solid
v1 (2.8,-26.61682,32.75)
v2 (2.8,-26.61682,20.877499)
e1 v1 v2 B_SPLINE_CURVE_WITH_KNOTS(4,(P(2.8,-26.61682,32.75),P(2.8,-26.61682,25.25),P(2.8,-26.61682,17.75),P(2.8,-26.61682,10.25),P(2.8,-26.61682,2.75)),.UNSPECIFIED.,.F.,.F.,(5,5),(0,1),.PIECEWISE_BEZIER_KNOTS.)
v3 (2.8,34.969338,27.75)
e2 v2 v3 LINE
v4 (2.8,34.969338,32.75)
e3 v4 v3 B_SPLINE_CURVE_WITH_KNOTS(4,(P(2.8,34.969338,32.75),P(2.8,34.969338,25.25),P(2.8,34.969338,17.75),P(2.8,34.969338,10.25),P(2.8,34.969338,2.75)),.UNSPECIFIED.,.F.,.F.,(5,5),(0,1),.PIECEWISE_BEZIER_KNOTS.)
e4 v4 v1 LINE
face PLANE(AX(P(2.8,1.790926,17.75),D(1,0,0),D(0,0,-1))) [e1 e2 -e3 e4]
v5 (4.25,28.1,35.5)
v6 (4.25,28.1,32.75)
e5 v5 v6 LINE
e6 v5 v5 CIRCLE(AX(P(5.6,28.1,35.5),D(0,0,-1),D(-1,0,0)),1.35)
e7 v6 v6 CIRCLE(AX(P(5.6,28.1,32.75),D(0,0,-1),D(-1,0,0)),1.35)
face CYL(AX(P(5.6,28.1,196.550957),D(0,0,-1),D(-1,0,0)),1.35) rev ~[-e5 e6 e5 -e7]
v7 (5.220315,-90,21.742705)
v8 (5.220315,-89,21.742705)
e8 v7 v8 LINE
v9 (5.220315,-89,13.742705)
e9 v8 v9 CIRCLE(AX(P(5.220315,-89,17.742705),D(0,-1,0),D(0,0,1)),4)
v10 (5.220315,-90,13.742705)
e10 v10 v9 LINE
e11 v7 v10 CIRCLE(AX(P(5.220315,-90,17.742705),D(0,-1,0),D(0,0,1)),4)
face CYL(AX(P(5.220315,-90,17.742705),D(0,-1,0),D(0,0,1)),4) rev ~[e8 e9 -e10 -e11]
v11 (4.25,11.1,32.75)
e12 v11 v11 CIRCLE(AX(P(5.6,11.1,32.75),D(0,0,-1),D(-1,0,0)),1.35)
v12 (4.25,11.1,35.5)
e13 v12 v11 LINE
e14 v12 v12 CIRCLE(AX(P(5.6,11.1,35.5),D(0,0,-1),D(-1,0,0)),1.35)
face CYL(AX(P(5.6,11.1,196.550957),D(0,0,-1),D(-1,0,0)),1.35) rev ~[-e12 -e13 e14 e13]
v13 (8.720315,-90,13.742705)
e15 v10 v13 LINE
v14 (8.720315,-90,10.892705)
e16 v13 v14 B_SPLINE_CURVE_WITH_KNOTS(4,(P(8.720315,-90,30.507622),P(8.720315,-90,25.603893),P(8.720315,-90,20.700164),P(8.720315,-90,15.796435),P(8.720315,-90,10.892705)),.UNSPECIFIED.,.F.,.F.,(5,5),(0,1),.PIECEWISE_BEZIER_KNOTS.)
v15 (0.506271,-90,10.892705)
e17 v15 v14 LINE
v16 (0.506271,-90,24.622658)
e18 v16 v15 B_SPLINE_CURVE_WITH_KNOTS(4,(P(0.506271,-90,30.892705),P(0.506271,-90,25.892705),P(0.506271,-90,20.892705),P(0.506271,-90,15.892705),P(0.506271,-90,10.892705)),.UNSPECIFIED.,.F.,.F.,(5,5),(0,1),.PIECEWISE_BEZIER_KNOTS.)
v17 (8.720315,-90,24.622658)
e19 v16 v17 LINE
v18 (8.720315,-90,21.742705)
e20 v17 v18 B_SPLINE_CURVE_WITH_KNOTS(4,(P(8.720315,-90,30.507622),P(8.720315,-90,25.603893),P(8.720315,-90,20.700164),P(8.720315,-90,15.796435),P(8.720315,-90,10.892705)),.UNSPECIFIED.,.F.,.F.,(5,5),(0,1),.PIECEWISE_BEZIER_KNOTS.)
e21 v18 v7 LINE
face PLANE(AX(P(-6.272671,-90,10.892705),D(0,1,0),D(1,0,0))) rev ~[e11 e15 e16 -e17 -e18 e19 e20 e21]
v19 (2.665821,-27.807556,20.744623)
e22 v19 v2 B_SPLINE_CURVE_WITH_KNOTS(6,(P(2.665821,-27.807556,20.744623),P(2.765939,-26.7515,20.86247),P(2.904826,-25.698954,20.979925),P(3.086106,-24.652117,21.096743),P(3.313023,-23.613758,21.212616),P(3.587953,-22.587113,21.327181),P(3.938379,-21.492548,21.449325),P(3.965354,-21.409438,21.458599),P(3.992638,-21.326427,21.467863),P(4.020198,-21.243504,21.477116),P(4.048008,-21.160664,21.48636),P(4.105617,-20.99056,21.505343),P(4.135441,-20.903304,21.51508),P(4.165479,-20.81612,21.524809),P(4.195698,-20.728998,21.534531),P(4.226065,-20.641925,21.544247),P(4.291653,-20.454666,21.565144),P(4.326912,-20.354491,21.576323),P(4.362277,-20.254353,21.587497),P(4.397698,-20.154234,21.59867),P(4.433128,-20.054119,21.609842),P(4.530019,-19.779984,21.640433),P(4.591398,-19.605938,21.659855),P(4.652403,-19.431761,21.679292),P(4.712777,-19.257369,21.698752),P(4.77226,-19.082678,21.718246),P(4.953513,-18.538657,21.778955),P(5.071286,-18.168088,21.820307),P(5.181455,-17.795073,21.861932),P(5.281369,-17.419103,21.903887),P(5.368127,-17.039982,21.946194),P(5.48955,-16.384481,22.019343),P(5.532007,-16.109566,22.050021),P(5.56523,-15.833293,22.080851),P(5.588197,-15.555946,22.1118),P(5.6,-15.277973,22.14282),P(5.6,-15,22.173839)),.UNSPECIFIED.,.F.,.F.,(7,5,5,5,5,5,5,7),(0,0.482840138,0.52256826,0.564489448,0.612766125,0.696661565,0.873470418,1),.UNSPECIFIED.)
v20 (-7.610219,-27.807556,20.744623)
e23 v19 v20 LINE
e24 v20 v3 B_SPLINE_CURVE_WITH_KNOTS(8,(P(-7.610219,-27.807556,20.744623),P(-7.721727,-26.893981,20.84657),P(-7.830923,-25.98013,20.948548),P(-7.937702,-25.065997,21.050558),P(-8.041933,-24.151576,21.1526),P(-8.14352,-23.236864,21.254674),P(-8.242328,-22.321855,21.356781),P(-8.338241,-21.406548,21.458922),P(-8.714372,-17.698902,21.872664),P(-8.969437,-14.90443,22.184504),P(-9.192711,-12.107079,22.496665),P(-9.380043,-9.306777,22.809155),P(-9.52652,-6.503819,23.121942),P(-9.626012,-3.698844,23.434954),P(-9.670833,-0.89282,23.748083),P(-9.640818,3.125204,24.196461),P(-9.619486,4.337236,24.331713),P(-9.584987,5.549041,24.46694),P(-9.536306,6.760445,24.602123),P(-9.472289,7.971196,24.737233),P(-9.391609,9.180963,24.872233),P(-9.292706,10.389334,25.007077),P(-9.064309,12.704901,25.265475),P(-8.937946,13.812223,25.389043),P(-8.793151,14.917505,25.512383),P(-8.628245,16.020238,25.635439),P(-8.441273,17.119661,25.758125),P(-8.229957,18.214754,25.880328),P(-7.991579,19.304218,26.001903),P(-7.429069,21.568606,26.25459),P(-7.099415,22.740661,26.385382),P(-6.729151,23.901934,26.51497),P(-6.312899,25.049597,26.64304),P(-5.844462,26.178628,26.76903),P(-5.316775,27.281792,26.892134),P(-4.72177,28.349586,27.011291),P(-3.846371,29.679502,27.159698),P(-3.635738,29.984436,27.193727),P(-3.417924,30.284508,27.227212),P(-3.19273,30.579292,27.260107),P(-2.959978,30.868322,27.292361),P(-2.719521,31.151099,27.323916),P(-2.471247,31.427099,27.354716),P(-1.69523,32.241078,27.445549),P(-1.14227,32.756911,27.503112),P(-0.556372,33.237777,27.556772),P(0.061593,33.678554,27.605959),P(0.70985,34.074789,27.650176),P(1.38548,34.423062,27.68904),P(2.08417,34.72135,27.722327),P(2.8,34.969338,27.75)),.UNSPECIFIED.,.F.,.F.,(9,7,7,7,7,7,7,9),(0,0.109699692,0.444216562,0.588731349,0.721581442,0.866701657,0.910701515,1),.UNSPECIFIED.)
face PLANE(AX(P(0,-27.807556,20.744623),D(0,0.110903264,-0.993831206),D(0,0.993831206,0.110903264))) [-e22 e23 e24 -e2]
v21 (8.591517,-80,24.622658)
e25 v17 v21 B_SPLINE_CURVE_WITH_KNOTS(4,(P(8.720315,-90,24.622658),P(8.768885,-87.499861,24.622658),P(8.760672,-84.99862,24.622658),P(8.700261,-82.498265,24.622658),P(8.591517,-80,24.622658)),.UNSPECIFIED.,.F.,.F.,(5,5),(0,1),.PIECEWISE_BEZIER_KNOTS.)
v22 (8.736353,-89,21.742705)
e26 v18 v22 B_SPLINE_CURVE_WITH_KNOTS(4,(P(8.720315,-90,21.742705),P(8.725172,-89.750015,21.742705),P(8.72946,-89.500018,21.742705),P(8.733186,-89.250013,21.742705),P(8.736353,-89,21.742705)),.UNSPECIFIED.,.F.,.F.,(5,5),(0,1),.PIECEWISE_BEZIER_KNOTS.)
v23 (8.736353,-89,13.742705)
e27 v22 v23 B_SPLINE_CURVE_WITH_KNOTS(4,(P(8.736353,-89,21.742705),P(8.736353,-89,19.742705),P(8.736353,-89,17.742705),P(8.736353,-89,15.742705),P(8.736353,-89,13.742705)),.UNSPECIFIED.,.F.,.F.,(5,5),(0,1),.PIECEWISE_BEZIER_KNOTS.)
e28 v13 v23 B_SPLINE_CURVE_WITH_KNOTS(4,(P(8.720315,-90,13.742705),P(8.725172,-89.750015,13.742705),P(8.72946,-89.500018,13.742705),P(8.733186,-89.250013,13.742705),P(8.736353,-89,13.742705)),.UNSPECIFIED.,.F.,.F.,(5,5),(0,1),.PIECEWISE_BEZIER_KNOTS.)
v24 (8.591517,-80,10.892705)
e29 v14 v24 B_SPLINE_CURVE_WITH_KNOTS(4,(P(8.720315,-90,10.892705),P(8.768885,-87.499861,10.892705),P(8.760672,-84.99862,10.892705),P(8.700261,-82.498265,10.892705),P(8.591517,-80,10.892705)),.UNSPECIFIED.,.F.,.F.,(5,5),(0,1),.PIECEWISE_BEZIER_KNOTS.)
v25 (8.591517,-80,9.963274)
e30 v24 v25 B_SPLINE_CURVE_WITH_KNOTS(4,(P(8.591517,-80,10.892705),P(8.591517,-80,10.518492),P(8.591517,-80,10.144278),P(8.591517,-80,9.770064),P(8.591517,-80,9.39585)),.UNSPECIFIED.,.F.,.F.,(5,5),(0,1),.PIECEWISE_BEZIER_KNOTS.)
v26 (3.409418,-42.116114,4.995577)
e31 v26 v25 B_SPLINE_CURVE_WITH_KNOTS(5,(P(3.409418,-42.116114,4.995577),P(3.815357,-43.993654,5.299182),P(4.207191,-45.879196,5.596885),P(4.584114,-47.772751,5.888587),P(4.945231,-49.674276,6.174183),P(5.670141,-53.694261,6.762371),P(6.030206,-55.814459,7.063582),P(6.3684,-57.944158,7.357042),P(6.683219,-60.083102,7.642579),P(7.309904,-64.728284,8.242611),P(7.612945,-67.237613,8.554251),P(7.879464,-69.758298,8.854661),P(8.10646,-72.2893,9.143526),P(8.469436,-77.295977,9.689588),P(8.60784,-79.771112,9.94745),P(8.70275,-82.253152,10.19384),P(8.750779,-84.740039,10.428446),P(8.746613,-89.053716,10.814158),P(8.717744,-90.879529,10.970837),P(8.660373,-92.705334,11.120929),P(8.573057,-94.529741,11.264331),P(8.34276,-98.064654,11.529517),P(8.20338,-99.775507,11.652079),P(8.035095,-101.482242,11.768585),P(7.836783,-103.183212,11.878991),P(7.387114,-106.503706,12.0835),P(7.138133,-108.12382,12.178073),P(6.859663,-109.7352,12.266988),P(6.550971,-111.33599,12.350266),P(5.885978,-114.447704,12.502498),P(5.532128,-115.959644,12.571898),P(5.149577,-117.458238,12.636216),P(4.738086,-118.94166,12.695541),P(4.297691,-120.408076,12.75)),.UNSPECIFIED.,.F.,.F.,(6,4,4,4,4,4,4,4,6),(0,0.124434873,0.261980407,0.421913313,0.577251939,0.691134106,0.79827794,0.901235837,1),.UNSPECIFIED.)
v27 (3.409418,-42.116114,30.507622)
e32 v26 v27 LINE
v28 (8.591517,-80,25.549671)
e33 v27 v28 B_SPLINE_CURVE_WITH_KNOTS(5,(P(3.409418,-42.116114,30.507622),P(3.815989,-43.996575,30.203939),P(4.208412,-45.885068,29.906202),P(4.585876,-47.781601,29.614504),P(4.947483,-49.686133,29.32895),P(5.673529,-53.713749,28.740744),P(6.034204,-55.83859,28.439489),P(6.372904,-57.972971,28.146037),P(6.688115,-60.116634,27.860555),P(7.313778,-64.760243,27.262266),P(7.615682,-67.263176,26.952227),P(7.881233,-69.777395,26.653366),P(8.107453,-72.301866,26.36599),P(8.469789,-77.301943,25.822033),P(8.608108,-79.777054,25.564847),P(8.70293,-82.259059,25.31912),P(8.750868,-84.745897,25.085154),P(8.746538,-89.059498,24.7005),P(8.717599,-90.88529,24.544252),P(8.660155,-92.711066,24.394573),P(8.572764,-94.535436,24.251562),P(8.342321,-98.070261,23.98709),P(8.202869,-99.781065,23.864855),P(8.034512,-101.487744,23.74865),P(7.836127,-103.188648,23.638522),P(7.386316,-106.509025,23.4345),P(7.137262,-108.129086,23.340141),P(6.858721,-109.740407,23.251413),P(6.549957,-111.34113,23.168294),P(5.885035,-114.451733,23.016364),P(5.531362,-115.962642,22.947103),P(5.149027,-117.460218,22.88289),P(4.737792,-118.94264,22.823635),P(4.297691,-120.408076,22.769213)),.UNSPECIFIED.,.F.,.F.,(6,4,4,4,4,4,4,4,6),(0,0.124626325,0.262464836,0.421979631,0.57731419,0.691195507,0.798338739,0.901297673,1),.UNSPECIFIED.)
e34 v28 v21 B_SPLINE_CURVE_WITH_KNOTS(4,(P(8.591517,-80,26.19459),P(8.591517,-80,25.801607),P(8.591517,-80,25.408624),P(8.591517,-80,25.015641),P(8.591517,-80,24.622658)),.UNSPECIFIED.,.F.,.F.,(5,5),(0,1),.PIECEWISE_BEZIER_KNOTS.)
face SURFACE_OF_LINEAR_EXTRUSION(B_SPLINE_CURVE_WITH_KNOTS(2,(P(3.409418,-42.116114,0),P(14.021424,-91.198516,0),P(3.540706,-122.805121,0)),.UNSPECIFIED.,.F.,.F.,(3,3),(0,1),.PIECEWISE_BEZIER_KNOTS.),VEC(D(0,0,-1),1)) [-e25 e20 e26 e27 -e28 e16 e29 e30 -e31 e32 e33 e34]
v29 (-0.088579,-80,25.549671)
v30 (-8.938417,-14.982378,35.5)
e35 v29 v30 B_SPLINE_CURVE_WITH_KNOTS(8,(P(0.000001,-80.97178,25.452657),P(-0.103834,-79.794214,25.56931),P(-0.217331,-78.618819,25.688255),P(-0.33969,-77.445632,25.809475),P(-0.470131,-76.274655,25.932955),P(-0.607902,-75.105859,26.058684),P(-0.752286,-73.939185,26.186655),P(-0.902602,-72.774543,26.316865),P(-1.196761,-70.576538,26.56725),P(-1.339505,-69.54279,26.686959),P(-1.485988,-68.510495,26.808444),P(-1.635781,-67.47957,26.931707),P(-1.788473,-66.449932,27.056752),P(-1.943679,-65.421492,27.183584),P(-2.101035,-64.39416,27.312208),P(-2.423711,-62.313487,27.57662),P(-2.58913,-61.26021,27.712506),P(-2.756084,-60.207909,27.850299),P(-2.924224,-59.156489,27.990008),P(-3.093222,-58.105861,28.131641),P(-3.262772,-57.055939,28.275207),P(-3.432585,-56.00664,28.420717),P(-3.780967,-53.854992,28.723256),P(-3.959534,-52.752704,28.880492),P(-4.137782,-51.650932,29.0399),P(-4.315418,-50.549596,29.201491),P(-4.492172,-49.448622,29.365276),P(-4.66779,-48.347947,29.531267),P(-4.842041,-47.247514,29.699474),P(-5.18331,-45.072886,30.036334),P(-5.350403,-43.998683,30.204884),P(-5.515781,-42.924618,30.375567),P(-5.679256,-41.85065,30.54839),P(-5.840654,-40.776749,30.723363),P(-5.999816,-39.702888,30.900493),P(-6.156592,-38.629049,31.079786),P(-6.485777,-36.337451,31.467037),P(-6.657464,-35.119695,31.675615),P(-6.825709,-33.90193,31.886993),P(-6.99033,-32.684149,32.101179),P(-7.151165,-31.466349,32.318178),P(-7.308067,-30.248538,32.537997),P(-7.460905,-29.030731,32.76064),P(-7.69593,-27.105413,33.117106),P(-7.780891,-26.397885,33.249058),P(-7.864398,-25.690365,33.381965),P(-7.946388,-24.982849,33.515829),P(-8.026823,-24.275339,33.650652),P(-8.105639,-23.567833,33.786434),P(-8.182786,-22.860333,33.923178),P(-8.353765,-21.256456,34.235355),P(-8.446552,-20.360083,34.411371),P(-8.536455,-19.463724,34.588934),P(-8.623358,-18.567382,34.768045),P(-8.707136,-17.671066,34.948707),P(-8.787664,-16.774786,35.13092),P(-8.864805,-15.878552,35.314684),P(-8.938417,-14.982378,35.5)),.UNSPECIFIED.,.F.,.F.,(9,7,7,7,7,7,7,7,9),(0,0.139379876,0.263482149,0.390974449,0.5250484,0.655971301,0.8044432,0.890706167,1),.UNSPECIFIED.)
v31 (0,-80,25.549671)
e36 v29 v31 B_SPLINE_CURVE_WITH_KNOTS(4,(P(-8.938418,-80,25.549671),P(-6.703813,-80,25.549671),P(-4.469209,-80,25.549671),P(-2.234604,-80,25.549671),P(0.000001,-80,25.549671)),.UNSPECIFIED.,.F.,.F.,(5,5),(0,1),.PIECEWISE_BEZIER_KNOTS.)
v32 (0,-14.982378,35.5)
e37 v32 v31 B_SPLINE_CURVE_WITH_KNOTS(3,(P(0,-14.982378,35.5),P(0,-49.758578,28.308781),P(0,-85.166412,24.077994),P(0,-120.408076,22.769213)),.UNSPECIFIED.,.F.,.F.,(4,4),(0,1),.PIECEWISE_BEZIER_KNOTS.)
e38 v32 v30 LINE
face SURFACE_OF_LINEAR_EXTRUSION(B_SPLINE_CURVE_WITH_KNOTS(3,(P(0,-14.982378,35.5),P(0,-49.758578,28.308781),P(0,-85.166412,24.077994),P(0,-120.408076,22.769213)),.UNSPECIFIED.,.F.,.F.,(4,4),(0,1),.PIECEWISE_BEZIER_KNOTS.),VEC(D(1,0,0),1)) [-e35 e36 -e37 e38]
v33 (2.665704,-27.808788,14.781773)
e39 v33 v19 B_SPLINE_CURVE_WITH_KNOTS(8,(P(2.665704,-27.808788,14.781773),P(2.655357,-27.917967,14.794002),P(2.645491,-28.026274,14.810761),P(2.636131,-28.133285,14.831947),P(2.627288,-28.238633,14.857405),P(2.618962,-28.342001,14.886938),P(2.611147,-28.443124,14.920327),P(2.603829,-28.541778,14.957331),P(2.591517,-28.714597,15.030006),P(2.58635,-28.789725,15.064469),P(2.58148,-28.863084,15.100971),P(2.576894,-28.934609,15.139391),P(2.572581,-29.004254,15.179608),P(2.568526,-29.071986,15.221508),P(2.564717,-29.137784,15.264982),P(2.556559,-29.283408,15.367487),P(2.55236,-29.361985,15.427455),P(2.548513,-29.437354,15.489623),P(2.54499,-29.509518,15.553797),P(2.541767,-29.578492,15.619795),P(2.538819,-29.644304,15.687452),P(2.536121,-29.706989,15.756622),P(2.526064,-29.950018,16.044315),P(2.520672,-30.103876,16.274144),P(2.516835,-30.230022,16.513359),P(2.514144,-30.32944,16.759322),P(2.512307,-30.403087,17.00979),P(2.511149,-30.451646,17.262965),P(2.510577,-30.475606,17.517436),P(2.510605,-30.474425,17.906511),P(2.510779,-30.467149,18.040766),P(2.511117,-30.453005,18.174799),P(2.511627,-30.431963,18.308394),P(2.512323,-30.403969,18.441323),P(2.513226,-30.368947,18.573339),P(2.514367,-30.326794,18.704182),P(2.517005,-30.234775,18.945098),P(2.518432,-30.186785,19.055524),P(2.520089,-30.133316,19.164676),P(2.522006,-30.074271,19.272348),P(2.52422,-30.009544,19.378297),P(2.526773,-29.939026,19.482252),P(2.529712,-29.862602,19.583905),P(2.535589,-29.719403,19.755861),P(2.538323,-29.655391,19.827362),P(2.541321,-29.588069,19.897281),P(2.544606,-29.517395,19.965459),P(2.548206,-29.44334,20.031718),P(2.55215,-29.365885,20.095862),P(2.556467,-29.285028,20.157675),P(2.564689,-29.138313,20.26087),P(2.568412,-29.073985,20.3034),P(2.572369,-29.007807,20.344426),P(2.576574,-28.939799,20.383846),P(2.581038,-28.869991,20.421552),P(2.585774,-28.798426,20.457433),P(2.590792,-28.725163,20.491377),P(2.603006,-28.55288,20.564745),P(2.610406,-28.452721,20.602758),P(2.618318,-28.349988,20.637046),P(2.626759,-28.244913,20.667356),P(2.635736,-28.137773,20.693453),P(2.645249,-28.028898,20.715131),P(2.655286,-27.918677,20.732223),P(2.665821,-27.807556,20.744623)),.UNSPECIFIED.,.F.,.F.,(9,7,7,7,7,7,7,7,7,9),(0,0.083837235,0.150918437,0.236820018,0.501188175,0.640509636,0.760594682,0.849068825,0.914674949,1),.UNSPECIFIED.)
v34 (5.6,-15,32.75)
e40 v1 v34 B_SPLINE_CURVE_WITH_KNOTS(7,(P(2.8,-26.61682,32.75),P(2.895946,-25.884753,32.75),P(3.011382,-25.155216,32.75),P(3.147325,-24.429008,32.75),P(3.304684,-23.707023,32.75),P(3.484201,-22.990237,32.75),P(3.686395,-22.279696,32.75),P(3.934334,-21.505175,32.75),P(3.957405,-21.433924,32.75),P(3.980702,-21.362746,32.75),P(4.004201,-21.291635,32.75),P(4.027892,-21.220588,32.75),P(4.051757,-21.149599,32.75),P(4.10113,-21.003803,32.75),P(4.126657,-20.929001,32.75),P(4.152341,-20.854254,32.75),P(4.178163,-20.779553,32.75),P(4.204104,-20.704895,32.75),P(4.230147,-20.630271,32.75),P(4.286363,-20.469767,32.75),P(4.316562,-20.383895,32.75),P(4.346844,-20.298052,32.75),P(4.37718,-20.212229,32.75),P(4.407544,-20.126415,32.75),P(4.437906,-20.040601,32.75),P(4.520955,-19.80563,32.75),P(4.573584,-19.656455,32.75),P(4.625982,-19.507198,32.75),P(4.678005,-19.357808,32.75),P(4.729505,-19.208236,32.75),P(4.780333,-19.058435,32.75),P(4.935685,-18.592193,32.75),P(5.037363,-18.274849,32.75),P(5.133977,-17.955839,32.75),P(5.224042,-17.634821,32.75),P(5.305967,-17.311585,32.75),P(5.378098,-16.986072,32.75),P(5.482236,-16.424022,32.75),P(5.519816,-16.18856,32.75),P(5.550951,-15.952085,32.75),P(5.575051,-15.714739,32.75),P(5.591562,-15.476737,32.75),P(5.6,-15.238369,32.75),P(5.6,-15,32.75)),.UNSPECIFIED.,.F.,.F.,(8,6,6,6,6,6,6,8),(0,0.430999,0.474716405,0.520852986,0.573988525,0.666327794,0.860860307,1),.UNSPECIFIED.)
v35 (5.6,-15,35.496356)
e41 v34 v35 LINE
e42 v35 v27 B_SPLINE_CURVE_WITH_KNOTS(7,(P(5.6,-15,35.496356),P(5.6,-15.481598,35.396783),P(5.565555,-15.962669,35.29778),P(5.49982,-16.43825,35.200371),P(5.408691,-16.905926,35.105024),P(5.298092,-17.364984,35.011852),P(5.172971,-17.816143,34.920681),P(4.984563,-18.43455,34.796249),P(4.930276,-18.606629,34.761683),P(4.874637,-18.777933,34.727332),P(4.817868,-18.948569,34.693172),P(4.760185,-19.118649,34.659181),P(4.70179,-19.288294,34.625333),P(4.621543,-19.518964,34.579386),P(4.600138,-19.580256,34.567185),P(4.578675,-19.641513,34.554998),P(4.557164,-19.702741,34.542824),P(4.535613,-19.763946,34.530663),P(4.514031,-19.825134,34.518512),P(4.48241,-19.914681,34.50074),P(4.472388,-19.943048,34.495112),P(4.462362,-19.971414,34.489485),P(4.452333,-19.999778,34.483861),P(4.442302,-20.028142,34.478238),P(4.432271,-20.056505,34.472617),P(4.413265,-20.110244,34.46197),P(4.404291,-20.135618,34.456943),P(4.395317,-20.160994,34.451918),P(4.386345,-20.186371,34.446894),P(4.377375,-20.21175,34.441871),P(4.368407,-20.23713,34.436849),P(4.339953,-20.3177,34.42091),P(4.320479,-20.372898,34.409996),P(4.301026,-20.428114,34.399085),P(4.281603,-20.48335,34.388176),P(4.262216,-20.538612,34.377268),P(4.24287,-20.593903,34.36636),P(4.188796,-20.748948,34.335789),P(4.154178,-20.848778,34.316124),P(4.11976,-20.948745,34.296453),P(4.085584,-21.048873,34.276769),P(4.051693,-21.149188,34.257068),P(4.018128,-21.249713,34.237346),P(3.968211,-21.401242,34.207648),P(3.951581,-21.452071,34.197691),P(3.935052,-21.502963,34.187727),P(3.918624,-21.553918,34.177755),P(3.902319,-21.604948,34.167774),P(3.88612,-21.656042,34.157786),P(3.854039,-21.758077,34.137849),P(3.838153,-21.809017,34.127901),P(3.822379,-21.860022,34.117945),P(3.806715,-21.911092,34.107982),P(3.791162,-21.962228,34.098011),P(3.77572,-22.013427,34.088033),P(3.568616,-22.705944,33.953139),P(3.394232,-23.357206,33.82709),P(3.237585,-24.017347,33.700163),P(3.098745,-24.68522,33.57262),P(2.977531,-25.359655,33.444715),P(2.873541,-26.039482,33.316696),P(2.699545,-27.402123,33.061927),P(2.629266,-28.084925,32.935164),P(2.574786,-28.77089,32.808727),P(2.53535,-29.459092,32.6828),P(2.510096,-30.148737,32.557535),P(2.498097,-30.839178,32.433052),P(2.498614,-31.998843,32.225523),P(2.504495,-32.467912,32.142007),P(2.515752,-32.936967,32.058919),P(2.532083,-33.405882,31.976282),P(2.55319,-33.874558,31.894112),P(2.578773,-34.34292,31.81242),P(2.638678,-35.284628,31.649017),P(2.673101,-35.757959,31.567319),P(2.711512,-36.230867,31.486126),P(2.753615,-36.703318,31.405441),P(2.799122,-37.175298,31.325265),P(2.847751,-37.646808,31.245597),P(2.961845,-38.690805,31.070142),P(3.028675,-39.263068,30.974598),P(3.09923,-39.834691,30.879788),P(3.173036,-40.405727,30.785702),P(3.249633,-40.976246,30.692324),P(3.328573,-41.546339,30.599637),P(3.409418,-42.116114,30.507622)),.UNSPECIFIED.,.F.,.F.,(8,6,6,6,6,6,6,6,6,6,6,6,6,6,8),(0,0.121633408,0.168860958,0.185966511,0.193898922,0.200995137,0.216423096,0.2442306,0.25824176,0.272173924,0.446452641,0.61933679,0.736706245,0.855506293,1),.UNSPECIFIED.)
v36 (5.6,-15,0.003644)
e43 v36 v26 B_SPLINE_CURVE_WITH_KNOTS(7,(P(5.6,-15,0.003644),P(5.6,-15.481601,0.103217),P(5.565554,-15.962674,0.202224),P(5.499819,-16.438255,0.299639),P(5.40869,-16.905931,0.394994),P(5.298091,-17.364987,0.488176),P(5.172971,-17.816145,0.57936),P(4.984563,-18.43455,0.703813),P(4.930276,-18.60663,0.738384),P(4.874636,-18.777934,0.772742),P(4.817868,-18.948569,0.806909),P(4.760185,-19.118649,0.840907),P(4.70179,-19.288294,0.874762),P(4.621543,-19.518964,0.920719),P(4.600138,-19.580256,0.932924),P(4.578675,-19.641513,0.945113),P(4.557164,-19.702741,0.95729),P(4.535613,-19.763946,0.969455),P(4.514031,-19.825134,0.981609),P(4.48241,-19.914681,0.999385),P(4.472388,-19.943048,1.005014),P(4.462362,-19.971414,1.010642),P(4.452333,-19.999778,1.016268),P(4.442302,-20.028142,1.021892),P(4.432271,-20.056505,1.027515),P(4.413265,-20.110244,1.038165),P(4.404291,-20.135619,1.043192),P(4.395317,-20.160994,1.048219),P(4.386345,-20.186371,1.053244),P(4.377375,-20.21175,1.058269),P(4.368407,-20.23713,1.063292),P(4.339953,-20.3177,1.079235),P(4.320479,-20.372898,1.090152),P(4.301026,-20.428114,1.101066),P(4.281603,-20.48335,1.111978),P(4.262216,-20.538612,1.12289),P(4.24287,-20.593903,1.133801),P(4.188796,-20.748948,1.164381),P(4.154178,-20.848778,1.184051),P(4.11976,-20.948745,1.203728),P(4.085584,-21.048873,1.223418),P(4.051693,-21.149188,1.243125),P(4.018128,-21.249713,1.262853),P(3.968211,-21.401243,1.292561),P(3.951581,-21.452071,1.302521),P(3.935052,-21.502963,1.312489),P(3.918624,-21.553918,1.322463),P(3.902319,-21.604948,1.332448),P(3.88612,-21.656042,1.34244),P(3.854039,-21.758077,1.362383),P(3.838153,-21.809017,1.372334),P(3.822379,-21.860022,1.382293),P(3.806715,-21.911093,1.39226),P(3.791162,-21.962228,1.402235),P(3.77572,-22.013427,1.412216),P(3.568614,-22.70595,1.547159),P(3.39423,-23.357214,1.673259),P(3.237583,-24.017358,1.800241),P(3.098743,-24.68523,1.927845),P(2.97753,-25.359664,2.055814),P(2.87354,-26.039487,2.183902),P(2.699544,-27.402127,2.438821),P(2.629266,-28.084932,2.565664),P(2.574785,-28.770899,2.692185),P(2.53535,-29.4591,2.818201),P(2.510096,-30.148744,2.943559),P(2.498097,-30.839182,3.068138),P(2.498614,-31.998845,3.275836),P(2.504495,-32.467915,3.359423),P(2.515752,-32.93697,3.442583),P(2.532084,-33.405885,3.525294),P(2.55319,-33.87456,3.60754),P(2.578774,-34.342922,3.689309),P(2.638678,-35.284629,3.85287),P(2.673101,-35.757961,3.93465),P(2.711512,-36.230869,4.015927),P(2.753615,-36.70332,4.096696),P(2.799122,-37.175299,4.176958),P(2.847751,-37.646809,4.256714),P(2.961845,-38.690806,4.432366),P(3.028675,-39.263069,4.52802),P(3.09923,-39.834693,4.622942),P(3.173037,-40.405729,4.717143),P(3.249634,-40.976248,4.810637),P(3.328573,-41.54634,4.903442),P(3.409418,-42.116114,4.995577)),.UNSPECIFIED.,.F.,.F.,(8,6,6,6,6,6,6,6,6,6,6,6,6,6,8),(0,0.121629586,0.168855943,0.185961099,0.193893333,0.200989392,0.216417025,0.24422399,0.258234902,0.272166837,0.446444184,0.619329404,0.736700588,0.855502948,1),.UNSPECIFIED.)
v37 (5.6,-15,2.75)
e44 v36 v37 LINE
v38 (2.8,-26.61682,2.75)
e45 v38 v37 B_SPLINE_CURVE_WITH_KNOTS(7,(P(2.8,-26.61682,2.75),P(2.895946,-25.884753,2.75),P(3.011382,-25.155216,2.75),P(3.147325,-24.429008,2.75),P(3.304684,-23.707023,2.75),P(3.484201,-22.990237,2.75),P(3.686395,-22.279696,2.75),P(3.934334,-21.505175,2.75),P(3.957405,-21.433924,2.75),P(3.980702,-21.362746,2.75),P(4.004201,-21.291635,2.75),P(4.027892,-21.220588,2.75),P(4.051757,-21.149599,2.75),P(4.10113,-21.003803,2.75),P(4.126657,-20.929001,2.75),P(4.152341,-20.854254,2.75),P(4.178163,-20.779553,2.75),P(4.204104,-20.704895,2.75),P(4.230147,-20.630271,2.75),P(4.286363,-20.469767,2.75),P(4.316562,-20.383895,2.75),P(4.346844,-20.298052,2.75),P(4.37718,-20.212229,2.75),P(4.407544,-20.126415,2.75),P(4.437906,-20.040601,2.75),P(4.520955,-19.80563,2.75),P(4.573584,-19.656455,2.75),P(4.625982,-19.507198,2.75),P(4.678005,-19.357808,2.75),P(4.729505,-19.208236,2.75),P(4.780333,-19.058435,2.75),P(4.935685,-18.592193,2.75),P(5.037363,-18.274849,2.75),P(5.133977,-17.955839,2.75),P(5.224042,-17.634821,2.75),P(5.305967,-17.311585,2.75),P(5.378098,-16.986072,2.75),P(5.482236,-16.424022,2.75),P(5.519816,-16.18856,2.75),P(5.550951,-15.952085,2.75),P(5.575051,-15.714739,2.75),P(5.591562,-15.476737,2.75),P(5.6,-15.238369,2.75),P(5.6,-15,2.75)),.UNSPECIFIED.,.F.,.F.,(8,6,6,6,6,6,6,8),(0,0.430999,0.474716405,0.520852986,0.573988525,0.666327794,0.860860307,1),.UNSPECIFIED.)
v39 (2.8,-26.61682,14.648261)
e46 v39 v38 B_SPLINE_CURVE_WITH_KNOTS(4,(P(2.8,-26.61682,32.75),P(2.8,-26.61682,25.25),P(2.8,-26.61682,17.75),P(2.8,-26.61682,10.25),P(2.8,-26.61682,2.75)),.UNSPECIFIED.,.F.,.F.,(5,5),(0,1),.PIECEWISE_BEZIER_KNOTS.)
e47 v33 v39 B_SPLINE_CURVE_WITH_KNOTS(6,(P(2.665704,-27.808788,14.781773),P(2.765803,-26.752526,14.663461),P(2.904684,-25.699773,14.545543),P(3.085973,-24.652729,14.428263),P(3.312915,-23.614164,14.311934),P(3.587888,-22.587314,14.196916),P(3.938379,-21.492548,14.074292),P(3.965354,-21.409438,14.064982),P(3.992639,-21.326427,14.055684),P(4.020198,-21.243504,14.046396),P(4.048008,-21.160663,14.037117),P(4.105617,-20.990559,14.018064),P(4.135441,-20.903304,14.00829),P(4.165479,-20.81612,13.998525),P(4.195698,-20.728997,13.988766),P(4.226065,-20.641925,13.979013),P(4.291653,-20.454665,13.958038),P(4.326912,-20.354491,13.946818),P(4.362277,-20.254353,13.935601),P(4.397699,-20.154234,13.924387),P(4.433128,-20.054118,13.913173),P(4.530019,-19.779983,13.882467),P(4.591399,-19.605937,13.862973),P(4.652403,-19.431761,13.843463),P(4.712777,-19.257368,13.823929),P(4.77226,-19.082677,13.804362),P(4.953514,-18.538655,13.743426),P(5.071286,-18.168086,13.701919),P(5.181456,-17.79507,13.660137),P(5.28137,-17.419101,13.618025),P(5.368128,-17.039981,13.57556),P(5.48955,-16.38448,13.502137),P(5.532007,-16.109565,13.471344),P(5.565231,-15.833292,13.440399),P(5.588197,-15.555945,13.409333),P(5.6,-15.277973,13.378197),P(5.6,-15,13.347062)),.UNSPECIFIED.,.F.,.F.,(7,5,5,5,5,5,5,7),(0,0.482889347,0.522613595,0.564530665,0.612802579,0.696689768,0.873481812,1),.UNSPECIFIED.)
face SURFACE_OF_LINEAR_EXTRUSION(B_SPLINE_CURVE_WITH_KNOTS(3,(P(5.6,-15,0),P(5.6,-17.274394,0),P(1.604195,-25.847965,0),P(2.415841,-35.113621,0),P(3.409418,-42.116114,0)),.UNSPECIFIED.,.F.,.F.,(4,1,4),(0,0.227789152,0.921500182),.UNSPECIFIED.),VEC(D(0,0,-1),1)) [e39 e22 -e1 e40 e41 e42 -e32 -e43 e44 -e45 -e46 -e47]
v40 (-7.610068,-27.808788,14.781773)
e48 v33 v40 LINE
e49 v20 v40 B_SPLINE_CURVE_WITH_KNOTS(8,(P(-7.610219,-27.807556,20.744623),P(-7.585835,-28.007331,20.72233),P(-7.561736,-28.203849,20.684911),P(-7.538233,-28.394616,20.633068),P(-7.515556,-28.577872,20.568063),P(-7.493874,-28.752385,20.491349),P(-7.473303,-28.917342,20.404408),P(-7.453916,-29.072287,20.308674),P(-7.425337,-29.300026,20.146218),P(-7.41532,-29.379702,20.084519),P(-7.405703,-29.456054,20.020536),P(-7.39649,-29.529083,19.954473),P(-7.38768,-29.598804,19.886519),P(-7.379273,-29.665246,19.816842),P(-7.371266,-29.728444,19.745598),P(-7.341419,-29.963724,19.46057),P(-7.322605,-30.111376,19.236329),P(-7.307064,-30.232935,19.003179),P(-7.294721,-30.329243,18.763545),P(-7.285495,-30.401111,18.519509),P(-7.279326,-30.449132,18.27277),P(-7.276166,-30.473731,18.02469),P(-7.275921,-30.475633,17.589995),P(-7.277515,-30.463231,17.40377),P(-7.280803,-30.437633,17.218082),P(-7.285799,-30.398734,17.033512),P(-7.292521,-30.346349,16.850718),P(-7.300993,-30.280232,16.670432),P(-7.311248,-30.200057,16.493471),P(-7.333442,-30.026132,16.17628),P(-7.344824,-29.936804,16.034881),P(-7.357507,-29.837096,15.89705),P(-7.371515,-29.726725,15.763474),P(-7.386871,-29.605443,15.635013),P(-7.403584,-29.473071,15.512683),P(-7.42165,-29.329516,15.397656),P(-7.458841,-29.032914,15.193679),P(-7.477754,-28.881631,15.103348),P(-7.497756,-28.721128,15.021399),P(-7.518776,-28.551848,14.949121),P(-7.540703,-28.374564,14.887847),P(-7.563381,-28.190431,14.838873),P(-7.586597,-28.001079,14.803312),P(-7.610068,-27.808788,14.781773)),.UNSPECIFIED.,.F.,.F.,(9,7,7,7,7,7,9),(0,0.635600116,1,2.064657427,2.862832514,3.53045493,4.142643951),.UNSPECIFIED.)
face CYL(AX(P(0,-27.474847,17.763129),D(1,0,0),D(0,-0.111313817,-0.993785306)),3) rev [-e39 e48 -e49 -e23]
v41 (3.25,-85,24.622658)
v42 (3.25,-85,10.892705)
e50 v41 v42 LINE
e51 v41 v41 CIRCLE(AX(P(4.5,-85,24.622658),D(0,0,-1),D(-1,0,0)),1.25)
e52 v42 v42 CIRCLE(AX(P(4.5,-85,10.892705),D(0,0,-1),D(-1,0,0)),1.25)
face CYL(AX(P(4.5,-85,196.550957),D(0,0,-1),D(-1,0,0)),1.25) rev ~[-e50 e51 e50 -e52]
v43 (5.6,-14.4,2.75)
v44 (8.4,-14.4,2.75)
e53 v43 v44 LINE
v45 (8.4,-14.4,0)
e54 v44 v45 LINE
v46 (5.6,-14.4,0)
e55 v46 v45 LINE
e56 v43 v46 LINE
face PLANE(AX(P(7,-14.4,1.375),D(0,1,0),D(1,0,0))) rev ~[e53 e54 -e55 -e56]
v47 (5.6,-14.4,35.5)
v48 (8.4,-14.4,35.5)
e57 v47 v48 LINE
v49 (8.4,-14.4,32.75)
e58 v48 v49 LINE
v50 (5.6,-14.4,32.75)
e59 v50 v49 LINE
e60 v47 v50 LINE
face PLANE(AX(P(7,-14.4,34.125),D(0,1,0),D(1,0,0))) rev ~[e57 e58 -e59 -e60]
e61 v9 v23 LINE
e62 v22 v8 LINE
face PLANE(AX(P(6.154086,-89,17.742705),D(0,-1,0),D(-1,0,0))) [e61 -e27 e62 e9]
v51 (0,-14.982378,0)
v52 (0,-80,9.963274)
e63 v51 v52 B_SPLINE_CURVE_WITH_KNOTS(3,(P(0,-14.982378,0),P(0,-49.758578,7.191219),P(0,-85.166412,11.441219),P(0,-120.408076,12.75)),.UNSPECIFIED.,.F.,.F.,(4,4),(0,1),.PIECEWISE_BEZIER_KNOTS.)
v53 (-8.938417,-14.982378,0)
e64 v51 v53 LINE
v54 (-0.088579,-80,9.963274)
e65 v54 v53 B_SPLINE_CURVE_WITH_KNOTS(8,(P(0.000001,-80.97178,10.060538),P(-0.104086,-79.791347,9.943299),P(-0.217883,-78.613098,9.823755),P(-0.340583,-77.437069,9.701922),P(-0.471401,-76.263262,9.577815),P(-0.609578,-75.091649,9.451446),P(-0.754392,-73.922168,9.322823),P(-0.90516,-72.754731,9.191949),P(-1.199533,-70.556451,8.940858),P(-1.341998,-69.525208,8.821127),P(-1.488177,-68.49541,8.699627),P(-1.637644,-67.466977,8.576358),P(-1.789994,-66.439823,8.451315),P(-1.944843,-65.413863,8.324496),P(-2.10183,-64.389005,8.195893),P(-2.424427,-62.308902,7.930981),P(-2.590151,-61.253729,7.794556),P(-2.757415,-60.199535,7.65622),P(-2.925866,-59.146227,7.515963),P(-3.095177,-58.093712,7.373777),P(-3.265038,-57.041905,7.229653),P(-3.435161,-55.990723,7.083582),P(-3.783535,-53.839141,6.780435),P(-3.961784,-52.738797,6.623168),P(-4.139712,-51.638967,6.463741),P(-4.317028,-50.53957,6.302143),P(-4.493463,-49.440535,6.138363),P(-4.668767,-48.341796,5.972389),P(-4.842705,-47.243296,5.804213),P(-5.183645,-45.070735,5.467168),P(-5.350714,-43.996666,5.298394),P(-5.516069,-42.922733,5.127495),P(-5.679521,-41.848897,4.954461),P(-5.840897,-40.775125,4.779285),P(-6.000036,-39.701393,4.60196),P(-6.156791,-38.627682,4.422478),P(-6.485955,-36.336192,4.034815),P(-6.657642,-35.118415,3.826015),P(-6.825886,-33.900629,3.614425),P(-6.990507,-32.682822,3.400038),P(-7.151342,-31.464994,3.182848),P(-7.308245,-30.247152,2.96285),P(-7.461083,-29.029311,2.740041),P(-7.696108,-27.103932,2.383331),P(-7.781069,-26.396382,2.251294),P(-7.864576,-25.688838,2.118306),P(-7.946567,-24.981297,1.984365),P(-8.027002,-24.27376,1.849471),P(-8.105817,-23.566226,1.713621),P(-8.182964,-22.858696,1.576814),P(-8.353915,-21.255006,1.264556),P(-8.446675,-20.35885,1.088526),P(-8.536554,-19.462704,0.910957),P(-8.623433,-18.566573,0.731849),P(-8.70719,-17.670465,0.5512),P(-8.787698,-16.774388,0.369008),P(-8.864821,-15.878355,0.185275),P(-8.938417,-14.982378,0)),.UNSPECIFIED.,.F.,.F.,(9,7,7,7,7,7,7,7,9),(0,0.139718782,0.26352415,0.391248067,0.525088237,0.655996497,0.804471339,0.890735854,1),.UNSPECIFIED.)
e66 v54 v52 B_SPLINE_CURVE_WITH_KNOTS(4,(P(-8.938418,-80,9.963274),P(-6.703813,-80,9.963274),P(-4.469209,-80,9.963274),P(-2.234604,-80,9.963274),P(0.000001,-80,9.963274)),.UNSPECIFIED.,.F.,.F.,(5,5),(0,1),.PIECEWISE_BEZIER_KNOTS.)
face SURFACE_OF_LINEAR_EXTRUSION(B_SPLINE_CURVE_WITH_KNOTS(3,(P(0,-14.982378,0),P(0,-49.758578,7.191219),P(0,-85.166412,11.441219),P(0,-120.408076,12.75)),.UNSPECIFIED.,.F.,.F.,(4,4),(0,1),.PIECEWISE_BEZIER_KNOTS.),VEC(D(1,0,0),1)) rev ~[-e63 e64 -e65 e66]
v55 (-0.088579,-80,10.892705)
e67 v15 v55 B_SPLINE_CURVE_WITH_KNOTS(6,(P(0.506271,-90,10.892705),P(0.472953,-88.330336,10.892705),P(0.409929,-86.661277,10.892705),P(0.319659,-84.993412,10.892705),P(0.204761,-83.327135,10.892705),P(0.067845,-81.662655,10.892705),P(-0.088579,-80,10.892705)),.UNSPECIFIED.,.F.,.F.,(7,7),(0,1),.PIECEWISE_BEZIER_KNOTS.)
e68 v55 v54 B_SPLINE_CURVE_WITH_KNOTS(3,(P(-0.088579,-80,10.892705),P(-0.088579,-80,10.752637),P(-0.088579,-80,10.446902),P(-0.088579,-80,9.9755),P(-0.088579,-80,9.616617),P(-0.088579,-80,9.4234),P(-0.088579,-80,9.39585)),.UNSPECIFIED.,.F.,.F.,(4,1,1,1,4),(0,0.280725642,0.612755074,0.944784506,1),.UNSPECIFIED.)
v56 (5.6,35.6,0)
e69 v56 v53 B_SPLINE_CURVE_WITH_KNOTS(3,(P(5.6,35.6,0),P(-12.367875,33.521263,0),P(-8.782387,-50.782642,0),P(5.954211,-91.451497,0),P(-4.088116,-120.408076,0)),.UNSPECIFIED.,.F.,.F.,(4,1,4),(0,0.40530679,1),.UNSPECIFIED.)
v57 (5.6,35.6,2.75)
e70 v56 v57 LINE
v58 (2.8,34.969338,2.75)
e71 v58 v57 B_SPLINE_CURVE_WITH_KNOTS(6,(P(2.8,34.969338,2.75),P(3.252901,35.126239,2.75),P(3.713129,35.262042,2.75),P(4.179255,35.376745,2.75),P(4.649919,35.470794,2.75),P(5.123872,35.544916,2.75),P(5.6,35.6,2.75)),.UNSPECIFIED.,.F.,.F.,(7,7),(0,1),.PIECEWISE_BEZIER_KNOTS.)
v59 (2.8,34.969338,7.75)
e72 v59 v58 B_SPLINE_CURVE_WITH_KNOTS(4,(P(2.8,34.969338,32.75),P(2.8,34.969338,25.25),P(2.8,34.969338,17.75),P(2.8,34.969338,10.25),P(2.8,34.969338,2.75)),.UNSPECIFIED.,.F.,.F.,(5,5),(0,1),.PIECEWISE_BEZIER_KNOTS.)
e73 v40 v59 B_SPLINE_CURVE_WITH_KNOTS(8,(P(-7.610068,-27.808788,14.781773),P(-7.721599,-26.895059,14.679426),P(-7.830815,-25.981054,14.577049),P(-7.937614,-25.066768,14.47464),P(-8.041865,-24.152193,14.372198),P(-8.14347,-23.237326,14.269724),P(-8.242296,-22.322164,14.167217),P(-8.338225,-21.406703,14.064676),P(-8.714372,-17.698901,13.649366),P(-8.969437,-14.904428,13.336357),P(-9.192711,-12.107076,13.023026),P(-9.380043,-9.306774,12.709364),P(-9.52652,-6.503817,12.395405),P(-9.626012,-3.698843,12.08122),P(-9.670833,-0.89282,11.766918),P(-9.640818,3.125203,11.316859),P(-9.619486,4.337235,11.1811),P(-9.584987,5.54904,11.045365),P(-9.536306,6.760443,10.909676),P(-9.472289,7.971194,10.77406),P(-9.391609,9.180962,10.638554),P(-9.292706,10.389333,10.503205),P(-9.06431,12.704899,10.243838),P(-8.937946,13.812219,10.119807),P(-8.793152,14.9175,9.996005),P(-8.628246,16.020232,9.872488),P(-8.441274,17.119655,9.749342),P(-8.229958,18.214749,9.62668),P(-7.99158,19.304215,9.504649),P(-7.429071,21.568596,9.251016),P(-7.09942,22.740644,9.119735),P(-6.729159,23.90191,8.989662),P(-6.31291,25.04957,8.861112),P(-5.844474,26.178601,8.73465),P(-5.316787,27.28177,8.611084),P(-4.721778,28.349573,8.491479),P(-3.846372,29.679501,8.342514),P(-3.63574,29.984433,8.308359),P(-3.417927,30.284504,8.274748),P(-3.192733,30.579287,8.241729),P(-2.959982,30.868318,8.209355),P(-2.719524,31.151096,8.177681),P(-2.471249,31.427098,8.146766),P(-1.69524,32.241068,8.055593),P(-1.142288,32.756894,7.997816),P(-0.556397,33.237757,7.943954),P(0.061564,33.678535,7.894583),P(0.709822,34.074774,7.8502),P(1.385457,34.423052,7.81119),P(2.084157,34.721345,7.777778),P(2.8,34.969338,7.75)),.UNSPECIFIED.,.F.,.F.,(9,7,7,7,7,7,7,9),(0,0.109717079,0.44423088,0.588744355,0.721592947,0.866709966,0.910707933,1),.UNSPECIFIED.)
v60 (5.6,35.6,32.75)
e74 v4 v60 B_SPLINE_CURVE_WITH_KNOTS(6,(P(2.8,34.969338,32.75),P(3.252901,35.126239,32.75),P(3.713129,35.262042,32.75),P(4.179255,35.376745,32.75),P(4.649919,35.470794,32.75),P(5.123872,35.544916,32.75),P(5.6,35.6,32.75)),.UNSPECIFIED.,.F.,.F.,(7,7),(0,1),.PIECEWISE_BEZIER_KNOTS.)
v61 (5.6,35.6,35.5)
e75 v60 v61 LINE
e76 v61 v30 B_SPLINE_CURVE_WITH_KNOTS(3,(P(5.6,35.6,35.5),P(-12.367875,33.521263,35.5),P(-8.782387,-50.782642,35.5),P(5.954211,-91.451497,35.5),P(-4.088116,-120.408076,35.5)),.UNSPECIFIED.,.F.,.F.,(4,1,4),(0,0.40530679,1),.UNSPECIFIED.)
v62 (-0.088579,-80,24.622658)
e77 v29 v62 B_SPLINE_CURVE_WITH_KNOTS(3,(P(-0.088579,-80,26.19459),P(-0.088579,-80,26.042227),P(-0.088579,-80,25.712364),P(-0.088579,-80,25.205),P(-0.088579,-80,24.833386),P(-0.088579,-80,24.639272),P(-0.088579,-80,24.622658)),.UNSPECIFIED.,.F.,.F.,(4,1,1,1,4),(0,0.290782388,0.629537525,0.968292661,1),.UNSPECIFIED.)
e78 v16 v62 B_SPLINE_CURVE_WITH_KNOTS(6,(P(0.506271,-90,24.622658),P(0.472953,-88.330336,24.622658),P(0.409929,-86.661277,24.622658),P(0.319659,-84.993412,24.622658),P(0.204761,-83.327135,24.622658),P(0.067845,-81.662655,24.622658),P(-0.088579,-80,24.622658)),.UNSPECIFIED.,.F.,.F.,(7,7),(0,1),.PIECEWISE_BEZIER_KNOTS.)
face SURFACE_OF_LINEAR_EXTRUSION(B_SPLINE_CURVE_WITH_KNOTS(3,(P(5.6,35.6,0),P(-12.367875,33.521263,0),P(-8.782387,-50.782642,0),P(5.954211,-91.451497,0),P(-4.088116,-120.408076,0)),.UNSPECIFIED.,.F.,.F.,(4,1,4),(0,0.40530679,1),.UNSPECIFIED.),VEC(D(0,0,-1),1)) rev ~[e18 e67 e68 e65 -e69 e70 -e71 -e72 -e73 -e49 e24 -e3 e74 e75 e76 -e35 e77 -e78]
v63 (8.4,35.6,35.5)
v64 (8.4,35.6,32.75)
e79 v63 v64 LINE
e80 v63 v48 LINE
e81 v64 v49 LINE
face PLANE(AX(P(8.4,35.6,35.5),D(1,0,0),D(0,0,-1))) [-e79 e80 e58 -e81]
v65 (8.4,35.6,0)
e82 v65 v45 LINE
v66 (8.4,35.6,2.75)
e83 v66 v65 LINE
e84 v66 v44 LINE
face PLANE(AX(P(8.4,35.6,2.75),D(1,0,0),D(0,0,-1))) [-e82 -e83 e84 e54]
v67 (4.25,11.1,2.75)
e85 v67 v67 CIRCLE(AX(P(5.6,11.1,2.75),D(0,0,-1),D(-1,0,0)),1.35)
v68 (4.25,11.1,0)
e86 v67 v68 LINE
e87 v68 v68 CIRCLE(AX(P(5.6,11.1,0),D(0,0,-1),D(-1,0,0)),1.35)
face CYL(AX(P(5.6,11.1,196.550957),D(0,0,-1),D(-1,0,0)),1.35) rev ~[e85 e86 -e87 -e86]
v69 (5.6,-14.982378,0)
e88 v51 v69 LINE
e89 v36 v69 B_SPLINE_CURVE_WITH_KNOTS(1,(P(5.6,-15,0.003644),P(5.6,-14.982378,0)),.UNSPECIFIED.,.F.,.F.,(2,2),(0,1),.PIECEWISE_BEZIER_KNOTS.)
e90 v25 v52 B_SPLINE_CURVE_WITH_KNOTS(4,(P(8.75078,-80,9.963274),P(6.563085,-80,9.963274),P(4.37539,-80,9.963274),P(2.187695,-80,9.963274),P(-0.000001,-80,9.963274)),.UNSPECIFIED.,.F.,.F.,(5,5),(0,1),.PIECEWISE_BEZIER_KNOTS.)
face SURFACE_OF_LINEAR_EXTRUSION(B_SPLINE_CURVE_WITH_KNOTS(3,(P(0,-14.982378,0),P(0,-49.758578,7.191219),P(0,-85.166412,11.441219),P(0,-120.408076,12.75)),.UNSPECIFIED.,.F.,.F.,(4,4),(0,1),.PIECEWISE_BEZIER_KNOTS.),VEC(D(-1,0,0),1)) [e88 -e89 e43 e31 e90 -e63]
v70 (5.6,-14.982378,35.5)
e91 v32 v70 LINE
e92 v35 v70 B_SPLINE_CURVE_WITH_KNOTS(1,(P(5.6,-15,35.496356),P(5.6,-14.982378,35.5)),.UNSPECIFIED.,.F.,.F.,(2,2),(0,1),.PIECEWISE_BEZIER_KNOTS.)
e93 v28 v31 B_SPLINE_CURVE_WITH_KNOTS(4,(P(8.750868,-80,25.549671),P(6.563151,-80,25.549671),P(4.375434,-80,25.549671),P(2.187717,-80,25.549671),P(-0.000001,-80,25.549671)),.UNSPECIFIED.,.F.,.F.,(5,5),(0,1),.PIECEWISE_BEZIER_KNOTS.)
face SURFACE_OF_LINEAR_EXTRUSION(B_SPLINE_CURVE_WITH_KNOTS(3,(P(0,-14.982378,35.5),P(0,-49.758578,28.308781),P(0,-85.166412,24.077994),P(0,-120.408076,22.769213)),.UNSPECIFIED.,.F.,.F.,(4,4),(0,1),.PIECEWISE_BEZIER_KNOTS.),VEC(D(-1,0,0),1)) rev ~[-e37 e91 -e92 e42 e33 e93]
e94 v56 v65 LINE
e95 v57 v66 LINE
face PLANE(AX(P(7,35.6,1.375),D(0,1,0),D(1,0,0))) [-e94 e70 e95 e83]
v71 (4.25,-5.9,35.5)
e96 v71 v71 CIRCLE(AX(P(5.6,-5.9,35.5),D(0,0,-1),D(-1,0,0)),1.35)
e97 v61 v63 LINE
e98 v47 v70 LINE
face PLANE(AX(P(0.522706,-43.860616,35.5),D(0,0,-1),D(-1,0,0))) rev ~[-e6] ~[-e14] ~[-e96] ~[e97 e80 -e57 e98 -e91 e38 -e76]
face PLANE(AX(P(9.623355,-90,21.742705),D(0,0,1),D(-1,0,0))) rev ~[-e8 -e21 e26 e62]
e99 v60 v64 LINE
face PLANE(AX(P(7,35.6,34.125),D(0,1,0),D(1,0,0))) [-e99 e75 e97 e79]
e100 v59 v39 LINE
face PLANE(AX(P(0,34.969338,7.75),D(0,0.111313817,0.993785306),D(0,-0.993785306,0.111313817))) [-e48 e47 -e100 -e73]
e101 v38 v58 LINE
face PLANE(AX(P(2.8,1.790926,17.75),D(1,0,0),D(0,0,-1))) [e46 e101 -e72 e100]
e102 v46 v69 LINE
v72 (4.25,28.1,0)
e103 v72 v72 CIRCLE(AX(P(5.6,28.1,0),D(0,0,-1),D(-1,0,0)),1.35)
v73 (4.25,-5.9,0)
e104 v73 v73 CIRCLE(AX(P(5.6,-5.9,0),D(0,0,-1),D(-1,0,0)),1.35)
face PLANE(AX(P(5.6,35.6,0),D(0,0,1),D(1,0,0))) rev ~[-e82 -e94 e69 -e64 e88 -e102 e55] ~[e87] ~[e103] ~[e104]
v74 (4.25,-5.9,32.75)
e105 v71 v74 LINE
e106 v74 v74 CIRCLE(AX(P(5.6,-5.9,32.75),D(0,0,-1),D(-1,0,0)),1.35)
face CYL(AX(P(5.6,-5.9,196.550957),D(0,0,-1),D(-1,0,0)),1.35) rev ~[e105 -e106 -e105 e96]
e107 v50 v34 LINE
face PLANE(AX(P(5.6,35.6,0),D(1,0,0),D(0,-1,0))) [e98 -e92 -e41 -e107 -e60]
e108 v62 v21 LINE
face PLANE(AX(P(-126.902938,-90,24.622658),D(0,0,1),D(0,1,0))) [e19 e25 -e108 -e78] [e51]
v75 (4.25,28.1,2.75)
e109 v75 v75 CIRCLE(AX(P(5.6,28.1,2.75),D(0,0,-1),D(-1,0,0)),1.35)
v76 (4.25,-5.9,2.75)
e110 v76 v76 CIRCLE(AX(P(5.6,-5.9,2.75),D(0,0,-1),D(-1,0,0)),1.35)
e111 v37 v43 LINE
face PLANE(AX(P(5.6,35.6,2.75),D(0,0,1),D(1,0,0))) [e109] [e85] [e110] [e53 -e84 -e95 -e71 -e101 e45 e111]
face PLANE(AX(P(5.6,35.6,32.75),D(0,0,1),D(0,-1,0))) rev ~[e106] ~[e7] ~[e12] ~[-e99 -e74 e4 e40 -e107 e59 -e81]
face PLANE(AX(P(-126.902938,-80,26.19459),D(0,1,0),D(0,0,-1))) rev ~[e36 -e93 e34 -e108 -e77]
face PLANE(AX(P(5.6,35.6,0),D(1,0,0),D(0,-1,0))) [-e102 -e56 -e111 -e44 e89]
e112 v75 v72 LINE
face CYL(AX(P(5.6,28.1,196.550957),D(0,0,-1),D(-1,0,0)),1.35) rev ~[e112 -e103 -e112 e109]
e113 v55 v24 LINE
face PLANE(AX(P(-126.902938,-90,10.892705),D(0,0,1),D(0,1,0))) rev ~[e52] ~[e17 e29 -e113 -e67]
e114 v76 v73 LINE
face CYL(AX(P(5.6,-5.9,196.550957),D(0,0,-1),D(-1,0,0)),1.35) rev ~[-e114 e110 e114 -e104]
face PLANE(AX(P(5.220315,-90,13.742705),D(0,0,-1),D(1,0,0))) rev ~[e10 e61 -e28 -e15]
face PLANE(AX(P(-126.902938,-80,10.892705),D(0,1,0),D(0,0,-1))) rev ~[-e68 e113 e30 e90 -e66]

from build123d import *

# Parameters (mm, degrees)
BOSS_EXTRUDE2_DEPTH        = 35.5
CUT_EXTRUDE1_DEPTH         = 17.75
CUT_EXTRUDE2_DEPTH         = 2.8
SKETCH5_W                  = 2.8
SKETCH5_H                  = 2.75
BOSS_EXTRUDE3_DEPTH        = 50
CUT_EXTRUDE3_DEPTH         = 15
F_2_7_2_7_DIAMETER_HOLE1_D = 2.7
M3_TAPPED_HOLE1_D          = 2.5
CUT_EXTRUDE4_DEPTH         = 126.902937834
CUT_EXTRUDE4_DEPTH_BACK    = 126.902937834
SKETCH12_W                 = 1.496855304
SKETCH12_H                 = 10
SKETCH12_W_2               = 1.571931937
CUT_EXTRUDE5_DEPTH         = 20
CUT_EXTRUDE6_DEPTH         = 1


with BuildPart() as part:
    # Sketch1 → Boss-Extrude2 (new body)
    with BuildSketch(Plane.XY):
        with BuildLine():
            Line((5.6, 35.6), (5.6, -15))
            add(Edge.make_bspline(
                [(5.6, -15), (5.6, -17.274393969), (1.604195195, -25.847964508), (2.415841027, -35.113621235), (3.409417942, -42.11611418)],
                knots=[0, 0, 0, 0, 0.227789152, 0.921500182, 0.921500182, 0.921500182, 0.921500182], degree=3))
            add(Edge.make_bspline(
                [(3.409417942, -42.11611418), (14.021423643, -91.198515752), (3.540705721, -122.805120936)],
                knots=[0, 0, 0, 1, 1, 1], degree=2))
            Line((3.540705721, -122.805120936), (-4.088116427, -120.408076375))
            add(Edge.make_bspline(
                [(5.6, 35.6), (-12.367874994, 33.521263174), (-8.7823866, -50.782642202), (5.954211422, -91.451497422), (-4.088116427, -120.408076375)],
                knots=[0, 0, 0, 0, 0.40530679, 1, 1, 1, 1], degree=3))
        make_face()
    extrude(amount=BOSS_EXTRUDE2_DEPTH)

    # Sketch3 → Cut-Extrude1 (cut, symmetric)
    with BuildSketch(Plane(origin=(0, 0, 0), x_dir=(0, 0, -1), z_dir=(1, 0, 0))):
        with BuildLine():
            Line((0, -14.98237842), (29.62736343, -14.98237842))
            Line((29.62736343, -14.98237842), (29.62736343, -131.572481325))
            Line((29.62736343, -131.572481325), (-60.547074518, -131.572481325))
            Line((-60.547074518, -131.572481325), (-60.547074518, -14.98237842))
            Line((-60.547074518, -14.98237842), (-35.5, -14.98237842))
            add(Edge.make_bspline(
                [(-35.5, -14.98237842), (-28.308780975, -49.75857776), (-24.077993602, -85.166412163), (-22.769212626, -120.408076375)],
                knots=[0, 0, 0, 0, 1, 1, 1, 1], degree=3))
            Line((-22.769212626, -120.408076375), (-12.75, -120.408076375))
            add(Edge.make_bspline(
                [(0, -14.98237842), (-7.191219025, -49.75857776), (-11.441219025, -85.166412163), (-12.75, -120.408076375)],
                knots=[0, 0, 0, 0, 1, 1, 1, 1], degree=3))
        make_face()
    extrude(amount=CUT_EXTRUDE1_DEPTH, both=True, mode=Mode.SUBTRACT)

    # Sketch4 → Cut-Extrude2 (cut)
    with BuildSketch(Plane(origin=(5.6, 0, 0), x_dir=(0, 0, -1), z_dir=(1, 0, 0))):
        Polygon((-2.75, 35.6), (-32.75, 35.6), (-32.75, -15.000000007), (-32.75, -32.018147114), (-2.75, -32.018147114), (-2.75, -15.000000007), align=None)
    extrude(amount=-CUT_EXTRUDE2_DEPTH, mode=Mode.SUBTRACT)

    # Sketch5 → Boss-Extrude3 (add)
    with BuildSketch(Plane(origin=(0, 35.6, 0), x_dir=(1, 0, 0), z_dir=(0, 1, 0))):
        with Locations((7, -1.375)):
            Rectangle(SKETCH5_W, SKETCH5_H)
        with Locations((7, -34.125)):
            Rectangle(SKETCH5_W, SKETCH5_H)
    extrude(amount=-BOSS_EXTRUDE3_DEPTH)

    # Sketch6 → Cut-Extrude3 (cut, symmetric)
    with BuildSketch(Plane(origin=(0, 0, 0), x_dir=(0, 0, -1), z_dir=(1, 0, 0))):
        with BuildLine():
            Line((-7.75, 34.96933844), (-14.781773193, -27.808788024))
            ThreePointArc((-14.781773193, -27.808788024), (-17.763748777, -30.474846509), (-20.744622729, -27.807556366))
            Line((-20.744622729, -27.807556366), (-27.75, 34.96933844))
            Line((-27.75, 34.96933844), (-7.75, 34.96933844))
        make_face()
    extrude(amount=CUT_EXTRUDE3_DEPTH, both=True, mode=Mode.SUBTRACT)

    # Ø2.7 (2.7) Diameter Hole1 (through all)
    with Locations(Plane.XY.offset(35.5)):
        with Locations((5.6, 28.1), (5.6, 11.1), (5.6, -5.9)):
            Hole(F_2_7_2_7_DIAMETER_HOLE1_D / 2)

    # M3 Tapped Hole1 (through all)
    with Locations(Plane.XY.offset(35.5)):
        with Locations((4.5, -85)):
            Hole(M3_TAPPED_HOLE1_D / 2)

    # Sketch12 → Cut-Extrude4 (cut, two sides: drawn at the far end of the back side and taken through both)
    with BuildSketch(Plane(origin=(0, 0, 0), x_dir=(0, 0, -1), z_dir=(1, 0, 0)).offset(-CUT_EXTRUDE4_DEPTH_BACK)):
        with Locations((-10.144277768, -85)):
            Rectangle(SKETCH12_W, SKETCH12_H)
        with Locations((-25.408624424, -85)):
            Rectangle(SKETCH12_W_2, SKETCH12_H)
    extrude(amount=CUT_EXTRUDE4_DEPTH + CUT_EXTRUDE4_DEPTH_BACK, mode=Mode.SUBTRACT)

    # Sketch14 → Cut-Extrude5 (cut)
    with BuildSketch(Plane(origin=(0, 0, 10.89270542), x_dir=(-1, 0, 0), z_dir=(0, 0, -1))):
        Polygon((-8.720315384, -90), (6.272671273, -90), (6.272671273, -124.093634091), (-10.541100015, -124.093634091), (-10.541100015, -90), align=None)
    extrude(amount=-CUT_EXTRUDE5_DEPTH, mode=Mode.SUBTRACT)

    # Sketch15 → Cut-Extrude6 (cut)
    with BuildSketch(Plane(origin=(0, -90, 0), x_dir=(-1, 0, 0), z_dir=(0, -1, 0))):
        with BuildLine():
            Line((-5.220315384, -13.74270542), (-8.720315384, -13.74270542))
            Line((-8.720315384, -13.74270542), (-9.623354914, -13.74270542))
            Line((-9.623354914, -13.74270542), (-9.623354914, -21.74270542))
            Line((-9.623354914, -21.74270542), (-5.220315384, -21.74270542))
            ThreePointArc((-5.220315384, -21.74270542), (-1.220315384, -17.74270542), (-5.220315384, -13.74270542))
        make_face()
    extrude(amount=-CUT_EXTRUDE6_DEPTH, mode=Mode.SUBTRACT)


solid = part.part
